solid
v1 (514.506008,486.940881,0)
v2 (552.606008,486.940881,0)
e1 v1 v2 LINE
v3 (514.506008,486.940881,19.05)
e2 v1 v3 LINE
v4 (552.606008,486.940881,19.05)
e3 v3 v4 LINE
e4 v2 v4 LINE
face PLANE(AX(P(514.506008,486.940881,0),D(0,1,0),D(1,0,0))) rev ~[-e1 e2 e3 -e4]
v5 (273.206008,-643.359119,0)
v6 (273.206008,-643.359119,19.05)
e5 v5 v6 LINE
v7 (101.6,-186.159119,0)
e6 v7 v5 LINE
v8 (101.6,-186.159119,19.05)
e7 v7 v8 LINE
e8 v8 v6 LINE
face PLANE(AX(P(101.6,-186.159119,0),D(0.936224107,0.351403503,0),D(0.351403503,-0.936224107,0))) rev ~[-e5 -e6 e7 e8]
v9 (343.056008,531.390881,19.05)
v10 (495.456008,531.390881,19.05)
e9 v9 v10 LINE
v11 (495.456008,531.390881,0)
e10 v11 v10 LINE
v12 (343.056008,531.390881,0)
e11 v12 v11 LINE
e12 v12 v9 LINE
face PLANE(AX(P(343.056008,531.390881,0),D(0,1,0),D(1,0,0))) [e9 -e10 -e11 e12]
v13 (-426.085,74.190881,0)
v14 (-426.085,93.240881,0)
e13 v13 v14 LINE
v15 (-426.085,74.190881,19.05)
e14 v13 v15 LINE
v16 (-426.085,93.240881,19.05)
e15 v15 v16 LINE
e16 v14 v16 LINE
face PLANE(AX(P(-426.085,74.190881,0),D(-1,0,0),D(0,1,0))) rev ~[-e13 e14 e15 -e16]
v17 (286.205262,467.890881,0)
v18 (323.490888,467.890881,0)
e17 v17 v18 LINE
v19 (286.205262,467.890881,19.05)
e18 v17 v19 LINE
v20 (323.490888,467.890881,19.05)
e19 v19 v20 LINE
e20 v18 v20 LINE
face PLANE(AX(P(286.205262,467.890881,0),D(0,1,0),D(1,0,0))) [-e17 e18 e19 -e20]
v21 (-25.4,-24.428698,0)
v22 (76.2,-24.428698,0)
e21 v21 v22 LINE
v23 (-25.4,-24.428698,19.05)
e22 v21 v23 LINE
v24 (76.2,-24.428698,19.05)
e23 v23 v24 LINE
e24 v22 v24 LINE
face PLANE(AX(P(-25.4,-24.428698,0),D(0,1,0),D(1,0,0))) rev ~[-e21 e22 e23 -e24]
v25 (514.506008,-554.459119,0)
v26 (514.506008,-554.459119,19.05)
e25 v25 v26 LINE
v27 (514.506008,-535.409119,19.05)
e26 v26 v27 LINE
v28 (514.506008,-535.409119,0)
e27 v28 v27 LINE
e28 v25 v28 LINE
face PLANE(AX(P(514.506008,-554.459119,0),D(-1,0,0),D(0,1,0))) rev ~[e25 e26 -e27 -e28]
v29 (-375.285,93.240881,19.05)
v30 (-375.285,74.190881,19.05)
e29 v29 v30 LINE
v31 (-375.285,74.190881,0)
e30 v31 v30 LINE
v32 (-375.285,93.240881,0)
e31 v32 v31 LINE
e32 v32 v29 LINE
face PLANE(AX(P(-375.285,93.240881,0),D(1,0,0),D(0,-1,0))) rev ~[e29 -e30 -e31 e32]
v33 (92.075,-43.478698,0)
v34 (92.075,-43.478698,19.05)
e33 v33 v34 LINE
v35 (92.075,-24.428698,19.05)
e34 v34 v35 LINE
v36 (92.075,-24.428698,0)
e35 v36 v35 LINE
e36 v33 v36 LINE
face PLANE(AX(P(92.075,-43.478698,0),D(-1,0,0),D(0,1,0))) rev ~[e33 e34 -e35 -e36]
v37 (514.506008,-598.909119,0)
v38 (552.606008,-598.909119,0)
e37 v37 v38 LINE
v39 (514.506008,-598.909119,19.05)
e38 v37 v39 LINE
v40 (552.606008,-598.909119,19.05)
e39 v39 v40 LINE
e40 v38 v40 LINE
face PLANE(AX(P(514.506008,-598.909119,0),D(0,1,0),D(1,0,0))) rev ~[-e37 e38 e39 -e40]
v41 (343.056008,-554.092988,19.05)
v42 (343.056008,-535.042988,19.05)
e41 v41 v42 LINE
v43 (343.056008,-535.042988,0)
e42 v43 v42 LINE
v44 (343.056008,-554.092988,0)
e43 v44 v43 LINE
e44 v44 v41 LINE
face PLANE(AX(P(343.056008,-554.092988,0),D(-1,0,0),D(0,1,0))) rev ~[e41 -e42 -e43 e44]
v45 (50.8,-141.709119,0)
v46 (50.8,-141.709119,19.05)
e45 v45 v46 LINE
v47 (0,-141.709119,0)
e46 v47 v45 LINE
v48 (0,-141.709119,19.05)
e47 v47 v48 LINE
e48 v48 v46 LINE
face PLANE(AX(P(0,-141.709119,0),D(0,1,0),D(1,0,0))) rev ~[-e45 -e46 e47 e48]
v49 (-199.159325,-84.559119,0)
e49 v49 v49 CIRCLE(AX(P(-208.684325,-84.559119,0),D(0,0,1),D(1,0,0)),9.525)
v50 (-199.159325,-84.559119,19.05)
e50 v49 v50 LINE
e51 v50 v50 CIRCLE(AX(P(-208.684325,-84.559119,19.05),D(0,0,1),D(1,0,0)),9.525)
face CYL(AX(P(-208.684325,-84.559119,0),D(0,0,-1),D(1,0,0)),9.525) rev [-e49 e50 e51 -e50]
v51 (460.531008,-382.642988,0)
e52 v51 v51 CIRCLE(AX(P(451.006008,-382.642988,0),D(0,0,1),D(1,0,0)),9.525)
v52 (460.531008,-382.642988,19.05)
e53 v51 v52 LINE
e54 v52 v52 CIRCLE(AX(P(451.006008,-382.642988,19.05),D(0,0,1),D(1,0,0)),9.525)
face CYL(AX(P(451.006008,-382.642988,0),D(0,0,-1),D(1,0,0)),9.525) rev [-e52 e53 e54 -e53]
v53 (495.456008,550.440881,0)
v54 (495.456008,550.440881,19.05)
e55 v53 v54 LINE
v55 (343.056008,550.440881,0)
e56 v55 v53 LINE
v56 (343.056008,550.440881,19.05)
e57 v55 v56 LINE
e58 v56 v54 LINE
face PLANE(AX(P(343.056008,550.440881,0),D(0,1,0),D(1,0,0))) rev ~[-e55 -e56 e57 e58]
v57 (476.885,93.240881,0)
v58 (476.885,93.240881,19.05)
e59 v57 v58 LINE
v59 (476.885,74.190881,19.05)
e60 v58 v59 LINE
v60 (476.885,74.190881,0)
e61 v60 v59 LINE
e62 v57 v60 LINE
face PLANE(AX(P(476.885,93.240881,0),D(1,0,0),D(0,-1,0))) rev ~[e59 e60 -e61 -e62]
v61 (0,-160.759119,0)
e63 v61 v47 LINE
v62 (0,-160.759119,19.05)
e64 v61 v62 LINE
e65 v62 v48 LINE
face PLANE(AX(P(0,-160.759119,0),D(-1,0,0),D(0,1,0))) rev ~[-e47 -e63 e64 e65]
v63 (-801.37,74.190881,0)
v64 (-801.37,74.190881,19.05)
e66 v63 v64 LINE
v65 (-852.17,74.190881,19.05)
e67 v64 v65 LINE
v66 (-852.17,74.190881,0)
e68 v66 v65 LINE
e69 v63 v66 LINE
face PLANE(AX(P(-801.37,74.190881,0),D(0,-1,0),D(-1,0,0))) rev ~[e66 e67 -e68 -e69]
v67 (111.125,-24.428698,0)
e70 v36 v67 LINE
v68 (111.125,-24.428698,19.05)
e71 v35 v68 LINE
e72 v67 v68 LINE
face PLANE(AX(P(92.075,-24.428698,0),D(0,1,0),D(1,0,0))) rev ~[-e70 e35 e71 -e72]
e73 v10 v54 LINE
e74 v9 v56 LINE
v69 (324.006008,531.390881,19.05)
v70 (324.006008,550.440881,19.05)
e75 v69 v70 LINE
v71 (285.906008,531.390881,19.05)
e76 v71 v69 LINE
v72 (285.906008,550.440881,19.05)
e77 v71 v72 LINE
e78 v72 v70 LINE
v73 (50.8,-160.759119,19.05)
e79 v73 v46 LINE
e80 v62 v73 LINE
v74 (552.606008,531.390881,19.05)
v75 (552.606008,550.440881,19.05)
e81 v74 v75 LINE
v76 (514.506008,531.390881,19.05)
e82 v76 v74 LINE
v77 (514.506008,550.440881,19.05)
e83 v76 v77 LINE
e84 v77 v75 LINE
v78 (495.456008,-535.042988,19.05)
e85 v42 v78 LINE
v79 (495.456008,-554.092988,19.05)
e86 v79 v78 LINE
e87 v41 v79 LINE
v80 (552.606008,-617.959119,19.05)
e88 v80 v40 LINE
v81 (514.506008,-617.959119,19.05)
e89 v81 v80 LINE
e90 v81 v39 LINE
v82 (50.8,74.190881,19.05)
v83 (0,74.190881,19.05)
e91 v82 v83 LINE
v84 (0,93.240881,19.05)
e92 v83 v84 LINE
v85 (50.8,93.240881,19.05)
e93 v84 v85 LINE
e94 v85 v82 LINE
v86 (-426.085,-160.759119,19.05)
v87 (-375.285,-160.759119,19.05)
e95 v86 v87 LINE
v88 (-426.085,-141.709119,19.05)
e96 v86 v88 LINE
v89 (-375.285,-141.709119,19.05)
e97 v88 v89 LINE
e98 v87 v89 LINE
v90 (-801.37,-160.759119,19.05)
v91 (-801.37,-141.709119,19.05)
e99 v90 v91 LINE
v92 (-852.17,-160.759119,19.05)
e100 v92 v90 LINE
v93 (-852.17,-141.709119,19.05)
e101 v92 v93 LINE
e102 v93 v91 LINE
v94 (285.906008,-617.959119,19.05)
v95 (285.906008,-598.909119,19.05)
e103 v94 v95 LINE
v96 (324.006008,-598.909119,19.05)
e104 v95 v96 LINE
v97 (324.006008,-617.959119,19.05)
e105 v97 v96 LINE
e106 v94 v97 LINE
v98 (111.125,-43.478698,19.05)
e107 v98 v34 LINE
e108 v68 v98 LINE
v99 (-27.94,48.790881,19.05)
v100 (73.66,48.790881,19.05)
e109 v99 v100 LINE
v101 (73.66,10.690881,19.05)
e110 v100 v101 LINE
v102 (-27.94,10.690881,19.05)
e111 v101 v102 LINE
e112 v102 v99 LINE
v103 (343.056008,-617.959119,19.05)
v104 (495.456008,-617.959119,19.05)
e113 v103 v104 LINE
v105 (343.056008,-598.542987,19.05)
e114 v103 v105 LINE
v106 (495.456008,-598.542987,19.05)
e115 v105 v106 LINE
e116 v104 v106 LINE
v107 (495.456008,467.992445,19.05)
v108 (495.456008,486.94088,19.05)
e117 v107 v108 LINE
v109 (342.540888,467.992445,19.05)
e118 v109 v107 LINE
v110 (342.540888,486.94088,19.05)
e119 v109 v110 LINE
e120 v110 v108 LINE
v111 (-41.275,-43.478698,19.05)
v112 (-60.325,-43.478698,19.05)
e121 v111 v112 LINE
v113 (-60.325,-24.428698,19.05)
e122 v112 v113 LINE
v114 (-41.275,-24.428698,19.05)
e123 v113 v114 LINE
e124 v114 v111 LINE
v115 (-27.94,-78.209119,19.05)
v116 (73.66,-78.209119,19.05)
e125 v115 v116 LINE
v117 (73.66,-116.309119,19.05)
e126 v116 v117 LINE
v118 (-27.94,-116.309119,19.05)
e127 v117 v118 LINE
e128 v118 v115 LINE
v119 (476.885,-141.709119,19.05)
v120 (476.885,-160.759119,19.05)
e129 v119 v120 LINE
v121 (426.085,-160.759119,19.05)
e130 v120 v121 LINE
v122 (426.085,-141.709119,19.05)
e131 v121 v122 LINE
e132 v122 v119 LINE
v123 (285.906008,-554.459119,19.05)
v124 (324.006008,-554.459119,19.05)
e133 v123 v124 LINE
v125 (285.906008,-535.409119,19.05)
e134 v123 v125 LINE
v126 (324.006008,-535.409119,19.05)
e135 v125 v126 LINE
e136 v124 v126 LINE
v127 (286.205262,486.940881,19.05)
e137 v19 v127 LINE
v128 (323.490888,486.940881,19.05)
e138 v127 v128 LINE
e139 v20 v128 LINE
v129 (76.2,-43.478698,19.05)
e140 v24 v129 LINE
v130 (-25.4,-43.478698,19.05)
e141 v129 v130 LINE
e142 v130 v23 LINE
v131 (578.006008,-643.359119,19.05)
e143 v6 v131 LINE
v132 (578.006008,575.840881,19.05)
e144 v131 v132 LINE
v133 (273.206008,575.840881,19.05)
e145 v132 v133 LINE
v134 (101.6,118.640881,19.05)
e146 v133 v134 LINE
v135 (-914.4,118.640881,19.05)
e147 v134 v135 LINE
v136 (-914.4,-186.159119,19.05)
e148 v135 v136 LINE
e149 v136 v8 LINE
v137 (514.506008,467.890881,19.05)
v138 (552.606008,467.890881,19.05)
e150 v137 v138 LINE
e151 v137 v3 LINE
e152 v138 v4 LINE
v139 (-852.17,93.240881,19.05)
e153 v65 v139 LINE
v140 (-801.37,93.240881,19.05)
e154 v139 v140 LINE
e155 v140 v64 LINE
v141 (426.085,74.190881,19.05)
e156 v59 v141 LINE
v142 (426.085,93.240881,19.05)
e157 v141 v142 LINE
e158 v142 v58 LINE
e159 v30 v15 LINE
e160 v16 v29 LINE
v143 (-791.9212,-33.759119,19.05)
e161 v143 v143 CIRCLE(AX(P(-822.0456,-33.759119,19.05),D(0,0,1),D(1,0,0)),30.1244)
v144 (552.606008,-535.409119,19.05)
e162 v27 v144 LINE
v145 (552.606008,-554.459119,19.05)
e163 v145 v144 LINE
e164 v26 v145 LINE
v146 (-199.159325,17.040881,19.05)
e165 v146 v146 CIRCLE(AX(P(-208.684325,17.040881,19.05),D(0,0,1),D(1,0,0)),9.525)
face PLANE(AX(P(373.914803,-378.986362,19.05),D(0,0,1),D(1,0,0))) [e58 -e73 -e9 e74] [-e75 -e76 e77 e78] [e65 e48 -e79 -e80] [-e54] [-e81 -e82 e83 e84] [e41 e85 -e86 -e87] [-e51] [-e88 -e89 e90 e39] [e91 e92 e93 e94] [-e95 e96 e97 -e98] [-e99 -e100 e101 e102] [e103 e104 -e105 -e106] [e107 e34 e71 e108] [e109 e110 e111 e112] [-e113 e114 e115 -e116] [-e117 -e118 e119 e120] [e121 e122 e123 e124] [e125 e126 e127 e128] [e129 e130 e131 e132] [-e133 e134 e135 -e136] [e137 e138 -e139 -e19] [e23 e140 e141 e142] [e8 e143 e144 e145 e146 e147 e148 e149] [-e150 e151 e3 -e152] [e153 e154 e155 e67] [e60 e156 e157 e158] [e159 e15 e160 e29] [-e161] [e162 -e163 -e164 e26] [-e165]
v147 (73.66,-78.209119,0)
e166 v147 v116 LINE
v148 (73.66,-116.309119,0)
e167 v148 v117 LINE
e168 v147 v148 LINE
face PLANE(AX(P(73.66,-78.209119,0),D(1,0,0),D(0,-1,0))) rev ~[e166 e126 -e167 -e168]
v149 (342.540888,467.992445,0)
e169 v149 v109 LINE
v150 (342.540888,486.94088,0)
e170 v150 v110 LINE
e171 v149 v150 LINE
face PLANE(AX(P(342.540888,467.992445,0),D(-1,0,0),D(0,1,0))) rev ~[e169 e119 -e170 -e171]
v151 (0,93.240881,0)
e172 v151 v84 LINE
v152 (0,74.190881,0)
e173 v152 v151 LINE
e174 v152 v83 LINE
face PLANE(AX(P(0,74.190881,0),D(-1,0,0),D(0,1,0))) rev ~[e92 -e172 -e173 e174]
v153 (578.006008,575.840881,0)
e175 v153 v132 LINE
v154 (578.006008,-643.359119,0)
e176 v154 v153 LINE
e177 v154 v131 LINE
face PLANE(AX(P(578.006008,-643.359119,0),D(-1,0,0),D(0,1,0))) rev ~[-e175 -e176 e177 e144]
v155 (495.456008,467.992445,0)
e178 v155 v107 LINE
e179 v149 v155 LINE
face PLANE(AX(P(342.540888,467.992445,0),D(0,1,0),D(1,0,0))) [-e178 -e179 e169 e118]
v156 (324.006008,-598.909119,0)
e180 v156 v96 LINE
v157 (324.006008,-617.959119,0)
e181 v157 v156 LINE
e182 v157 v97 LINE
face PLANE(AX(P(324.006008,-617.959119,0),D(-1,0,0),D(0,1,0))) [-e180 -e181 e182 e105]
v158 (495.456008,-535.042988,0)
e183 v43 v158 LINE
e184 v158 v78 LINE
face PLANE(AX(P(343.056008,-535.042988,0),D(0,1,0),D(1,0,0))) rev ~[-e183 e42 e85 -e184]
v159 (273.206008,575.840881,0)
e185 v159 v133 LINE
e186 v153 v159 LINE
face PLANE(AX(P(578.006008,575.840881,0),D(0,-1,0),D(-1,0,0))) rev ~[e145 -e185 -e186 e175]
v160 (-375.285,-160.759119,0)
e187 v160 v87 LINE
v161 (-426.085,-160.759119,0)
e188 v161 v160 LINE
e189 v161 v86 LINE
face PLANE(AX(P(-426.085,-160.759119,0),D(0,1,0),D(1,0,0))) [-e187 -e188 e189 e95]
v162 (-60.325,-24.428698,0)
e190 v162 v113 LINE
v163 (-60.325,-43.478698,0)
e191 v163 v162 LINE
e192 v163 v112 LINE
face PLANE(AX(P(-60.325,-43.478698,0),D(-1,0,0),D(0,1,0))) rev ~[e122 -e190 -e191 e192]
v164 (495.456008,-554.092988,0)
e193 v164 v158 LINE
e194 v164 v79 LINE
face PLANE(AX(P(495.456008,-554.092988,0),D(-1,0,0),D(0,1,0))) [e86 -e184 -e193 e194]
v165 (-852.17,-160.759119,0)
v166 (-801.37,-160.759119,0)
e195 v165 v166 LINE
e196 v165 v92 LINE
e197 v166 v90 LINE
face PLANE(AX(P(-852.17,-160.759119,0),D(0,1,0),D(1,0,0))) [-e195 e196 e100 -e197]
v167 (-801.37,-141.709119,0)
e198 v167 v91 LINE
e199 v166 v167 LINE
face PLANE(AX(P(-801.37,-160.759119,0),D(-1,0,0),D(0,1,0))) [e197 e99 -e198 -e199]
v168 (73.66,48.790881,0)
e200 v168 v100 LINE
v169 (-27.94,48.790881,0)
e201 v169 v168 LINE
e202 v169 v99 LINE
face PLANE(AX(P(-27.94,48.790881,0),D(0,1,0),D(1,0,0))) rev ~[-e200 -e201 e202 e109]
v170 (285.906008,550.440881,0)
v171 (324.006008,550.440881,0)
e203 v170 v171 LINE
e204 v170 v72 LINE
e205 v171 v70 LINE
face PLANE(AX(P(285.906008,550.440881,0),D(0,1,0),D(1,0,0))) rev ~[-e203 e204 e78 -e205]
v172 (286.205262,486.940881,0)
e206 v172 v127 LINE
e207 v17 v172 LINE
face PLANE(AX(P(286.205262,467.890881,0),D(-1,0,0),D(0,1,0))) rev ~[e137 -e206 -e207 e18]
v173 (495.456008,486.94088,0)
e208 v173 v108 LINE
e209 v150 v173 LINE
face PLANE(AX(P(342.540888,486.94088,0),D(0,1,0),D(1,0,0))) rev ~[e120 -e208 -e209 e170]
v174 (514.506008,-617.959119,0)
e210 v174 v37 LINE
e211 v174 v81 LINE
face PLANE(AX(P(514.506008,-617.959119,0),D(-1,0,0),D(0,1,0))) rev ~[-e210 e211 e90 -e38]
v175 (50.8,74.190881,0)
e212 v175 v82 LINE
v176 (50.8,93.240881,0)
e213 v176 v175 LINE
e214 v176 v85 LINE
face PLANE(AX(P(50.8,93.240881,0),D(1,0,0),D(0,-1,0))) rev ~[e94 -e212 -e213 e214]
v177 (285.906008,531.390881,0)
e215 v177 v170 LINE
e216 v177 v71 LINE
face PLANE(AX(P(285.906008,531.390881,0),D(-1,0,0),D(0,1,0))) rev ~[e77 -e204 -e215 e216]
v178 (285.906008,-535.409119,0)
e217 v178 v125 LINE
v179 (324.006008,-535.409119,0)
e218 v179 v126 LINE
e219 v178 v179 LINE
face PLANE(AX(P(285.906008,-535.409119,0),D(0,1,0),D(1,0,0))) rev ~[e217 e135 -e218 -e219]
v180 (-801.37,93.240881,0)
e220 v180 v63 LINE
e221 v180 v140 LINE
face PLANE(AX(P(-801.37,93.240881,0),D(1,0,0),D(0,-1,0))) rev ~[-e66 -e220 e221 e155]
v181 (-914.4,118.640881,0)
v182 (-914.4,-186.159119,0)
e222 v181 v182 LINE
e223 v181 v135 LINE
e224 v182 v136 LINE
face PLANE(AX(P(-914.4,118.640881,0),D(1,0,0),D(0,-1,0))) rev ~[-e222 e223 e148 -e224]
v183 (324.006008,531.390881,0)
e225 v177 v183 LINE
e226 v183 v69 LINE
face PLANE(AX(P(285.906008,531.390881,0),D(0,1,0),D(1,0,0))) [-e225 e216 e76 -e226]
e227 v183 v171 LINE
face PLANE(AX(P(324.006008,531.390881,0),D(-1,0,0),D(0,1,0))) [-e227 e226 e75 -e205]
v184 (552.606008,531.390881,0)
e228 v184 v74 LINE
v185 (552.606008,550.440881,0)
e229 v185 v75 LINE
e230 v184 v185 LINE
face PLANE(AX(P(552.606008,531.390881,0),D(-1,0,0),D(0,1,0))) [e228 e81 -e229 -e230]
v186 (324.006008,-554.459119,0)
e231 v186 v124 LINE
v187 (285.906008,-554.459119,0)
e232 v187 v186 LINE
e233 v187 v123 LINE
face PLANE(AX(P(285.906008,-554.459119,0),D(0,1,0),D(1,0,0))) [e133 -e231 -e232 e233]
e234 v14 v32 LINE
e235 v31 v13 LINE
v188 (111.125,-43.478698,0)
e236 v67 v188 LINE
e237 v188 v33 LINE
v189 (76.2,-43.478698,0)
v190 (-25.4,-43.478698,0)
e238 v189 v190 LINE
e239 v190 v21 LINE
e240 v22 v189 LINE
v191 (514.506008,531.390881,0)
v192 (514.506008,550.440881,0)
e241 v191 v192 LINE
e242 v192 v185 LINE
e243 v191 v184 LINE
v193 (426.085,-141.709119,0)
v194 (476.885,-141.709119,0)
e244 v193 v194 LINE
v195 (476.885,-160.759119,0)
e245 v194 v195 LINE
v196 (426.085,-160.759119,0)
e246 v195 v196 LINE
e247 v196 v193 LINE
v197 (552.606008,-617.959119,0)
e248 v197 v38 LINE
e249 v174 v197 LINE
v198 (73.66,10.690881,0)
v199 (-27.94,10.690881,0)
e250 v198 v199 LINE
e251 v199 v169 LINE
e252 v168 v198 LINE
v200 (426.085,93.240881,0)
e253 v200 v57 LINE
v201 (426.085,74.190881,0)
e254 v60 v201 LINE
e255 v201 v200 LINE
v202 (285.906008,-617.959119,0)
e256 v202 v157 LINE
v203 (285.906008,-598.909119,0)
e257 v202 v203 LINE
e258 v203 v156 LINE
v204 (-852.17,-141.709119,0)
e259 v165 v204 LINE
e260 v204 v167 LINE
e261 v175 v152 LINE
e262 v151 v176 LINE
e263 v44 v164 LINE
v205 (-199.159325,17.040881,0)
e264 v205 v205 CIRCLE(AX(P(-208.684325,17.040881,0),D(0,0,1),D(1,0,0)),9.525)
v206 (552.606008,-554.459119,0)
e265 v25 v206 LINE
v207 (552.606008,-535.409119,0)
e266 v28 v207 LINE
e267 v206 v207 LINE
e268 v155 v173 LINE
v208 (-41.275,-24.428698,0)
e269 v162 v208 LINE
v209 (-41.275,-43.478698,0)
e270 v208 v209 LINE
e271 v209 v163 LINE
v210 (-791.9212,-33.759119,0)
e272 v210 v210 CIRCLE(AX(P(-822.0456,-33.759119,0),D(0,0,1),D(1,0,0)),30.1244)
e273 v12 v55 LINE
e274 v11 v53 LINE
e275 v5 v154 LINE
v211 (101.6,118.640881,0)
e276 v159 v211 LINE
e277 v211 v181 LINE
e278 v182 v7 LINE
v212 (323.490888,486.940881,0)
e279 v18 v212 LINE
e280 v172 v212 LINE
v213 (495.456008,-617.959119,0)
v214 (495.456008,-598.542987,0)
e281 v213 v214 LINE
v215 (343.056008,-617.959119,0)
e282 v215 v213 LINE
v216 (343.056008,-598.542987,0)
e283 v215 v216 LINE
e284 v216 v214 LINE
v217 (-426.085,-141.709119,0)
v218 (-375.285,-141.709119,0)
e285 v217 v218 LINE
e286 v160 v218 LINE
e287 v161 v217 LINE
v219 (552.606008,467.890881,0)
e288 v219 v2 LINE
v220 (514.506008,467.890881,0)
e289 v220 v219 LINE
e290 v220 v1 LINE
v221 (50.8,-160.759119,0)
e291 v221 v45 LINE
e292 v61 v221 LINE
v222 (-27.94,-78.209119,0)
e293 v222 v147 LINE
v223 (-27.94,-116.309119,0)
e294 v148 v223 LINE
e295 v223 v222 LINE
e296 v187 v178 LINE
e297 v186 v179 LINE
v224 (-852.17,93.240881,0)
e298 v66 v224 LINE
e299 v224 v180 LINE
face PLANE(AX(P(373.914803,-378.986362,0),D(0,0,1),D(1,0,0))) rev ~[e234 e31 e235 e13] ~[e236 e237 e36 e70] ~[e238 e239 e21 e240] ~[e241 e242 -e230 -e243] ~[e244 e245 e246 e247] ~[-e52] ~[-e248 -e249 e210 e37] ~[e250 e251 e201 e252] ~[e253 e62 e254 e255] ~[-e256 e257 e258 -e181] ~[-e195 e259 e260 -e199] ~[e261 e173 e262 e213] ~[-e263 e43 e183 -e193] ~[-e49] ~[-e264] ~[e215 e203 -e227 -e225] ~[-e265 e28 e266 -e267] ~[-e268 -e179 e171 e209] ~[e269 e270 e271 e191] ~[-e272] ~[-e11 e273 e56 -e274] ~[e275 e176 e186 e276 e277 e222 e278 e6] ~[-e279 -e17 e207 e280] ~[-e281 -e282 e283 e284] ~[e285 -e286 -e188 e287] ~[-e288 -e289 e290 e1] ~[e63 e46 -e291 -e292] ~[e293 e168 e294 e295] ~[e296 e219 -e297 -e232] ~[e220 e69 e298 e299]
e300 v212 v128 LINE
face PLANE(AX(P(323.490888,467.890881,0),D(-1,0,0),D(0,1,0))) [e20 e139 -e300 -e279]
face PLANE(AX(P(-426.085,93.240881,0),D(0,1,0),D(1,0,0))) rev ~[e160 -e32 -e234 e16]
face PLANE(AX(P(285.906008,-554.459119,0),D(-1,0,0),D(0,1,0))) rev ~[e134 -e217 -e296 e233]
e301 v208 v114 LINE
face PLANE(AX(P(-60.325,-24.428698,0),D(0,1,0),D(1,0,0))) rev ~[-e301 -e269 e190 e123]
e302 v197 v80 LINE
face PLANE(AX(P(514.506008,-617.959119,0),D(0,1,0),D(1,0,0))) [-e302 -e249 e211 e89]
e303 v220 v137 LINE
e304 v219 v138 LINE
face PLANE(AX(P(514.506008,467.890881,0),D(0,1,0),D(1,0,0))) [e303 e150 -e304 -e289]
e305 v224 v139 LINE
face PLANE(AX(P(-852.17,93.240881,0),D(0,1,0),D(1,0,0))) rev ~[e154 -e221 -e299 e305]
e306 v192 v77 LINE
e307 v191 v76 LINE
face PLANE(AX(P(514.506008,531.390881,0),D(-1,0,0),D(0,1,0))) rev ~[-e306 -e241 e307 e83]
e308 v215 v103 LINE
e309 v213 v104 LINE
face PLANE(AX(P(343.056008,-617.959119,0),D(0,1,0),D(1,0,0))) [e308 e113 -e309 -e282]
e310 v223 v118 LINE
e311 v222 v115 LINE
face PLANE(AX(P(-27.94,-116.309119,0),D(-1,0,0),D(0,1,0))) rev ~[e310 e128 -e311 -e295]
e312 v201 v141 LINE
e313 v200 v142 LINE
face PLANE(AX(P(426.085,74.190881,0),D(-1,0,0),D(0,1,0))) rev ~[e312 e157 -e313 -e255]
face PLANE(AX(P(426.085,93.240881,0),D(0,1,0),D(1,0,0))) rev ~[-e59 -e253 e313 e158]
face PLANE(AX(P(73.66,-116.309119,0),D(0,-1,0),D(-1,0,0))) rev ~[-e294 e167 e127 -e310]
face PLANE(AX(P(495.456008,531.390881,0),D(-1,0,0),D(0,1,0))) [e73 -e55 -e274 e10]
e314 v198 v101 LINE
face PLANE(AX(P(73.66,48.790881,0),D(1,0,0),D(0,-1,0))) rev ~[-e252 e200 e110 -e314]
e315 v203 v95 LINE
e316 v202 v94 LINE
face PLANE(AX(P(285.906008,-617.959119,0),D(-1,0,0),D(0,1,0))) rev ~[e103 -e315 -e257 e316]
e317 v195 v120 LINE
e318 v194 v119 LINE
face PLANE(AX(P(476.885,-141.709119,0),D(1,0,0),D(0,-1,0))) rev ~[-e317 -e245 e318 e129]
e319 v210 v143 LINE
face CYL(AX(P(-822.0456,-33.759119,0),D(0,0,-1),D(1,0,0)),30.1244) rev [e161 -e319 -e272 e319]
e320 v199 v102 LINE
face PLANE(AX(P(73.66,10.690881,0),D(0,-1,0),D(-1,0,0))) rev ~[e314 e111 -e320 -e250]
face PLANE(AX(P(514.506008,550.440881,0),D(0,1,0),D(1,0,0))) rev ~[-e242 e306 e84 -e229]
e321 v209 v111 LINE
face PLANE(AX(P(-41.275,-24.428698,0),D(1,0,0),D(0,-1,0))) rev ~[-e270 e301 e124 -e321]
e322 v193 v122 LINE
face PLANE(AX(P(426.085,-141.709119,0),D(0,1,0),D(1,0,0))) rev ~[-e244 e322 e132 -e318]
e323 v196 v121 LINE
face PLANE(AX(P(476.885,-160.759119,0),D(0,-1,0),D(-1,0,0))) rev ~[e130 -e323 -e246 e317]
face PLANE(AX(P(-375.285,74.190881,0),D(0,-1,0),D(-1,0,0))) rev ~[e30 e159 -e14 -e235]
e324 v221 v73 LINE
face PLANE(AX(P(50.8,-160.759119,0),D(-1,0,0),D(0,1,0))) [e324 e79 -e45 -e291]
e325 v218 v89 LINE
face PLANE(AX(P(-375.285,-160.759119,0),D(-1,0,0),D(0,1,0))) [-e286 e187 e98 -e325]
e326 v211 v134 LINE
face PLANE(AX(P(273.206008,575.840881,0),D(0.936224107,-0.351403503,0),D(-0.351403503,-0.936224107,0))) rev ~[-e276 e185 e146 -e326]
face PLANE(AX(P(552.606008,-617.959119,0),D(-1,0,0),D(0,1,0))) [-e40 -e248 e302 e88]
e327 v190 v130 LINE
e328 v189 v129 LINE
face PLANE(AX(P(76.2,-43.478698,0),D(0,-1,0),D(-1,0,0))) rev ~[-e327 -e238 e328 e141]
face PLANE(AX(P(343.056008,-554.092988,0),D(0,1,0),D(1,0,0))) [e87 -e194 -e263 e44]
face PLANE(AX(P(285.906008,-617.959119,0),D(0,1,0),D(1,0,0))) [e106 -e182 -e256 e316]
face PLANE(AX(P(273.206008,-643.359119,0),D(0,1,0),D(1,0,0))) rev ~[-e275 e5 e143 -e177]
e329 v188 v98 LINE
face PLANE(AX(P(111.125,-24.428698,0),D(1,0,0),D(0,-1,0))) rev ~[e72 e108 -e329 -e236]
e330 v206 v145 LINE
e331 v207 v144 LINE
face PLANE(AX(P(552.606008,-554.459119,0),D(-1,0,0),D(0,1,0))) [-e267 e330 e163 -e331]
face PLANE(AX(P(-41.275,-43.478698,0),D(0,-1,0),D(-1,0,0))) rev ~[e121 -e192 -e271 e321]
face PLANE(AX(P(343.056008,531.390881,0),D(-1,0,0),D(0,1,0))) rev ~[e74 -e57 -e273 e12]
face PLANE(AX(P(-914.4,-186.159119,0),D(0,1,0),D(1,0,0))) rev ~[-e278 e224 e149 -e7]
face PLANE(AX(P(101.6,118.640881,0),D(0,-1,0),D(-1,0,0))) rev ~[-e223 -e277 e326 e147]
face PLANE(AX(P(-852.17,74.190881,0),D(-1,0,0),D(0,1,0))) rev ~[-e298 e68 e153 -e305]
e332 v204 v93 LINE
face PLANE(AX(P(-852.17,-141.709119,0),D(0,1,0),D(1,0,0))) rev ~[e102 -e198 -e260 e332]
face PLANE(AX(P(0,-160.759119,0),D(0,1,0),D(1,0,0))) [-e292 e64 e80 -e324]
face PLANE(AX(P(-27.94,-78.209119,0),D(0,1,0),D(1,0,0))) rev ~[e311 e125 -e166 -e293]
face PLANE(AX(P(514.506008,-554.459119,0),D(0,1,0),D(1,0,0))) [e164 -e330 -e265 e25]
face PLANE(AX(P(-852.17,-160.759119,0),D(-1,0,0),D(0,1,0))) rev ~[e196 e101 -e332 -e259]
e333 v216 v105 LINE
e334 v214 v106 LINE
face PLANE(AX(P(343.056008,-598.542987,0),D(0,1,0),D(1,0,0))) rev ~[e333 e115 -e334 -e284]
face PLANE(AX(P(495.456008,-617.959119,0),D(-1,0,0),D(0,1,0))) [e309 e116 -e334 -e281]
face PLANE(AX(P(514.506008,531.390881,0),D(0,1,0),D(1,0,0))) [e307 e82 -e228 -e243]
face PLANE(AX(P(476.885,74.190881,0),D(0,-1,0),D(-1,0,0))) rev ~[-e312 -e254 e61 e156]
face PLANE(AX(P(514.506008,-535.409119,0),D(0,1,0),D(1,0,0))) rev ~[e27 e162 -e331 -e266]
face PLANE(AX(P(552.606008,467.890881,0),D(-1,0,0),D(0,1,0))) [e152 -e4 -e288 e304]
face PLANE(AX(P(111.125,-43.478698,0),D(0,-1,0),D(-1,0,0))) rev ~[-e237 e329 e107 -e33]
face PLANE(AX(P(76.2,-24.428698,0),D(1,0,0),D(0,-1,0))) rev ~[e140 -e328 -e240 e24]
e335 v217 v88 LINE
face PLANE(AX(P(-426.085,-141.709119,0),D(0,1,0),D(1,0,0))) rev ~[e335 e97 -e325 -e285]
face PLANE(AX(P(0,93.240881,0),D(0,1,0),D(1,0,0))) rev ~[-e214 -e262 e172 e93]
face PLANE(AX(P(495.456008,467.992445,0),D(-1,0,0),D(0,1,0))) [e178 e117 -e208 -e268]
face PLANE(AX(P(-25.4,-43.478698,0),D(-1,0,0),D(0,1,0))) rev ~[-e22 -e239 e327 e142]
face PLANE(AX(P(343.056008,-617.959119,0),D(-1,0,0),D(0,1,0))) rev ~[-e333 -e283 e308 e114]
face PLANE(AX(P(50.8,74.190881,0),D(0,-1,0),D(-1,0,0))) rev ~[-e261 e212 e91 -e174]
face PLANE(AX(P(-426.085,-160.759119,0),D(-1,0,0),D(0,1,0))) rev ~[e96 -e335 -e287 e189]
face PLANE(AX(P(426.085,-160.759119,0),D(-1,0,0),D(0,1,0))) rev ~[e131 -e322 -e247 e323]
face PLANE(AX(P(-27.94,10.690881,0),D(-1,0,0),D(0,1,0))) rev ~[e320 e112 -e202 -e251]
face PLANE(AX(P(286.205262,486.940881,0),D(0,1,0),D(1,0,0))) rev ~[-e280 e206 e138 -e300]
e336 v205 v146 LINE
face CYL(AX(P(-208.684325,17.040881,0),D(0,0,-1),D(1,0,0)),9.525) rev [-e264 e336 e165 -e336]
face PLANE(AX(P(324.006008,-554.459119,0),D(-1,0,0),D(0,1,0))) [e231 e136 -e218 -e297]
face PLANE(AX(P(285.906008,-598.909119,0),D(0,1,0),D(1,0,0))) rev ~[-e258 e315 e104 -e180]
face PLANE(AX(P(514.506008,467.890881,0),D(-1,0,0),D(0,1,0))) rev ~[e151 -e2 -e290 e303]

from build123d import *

# Parameters (mm, degrees)
F0_W     = 38.1
F0_H     = 19.05
F0_W_2   = 152.4
F0_H_2   = 19.416131
F0_R     = 9.525
F0_W_3   = 50.8
F0_R_2   = 30.1244
F0_W_4   = 37.285626
F0_W_5   = 152.91512
F0_H_3   = 18.948435
F1_DEPTH = 19.05


with BuildPart() as f1:
    # F0 (on Top) → F1 (new body)
    with BuildSketch(Plane.XY):
        Polygon((273.206008, -643.359119), (578.006008, -643.359119), (578.006008, -186.159119), (578.006008, -167.109119), (578.006008, -160.759119), (476.885, -160.759119), (426.085, -160.759119), (101.6, -160.759119), (101.6, -186.159119), align=None)
        with Locations((304.956008, -608.434119)):
            Rectangle(F0_W, F0_H, mode=Mode.SUBTRACT)
        with Locations((304.956008, -544.934119)):
            Rectangle(F0_W, F0_H, mode=Mode.SUBTRACT)
        with Locations((419.256008, -608.251053)):
            Rectangle(F0_W_2, F0_H_2, mode=Mode.SUBTRACT)
        with Locations((533.556008, -608.434119)):
            Rectangle(F0_W, F0_H, mode=Mode.SUBTRACT)
        with Locations((419.256008, -544.567988)):
            Rectangle(F0_W_2, F0_H, mode=Mode.SUBTRACT)
        with Locations((533.556008, -544.934119)):
            Rectangle(F0_W, F0_H, mode=Mode.SUBTRACT)
        with Locations((451.006008, -382.642988)):
            Circle(F0_R, mode=Mode.SUBTRACT)
        Polygon((-914.4, -186.159119), (101.6, -186.159119), (101.6, -160.759119), (101.6, -43.478698), (92.075, -43.478698), (92.075, -24.428698), (101.6, -24.428698), (101.6, 93.240881), (50.8, 93.240881), (50.8, 74.190881), (0, 74.190881), (0, 93.240881), (-375.285, 93.240881), (-375.285, 74.190881), (-426.085, 74.190881), (-426.085, 93.240881), (-801.37, 93.240881), (-801.37, 74.190881), (-852.17, 74.190881), (-852.17, 93.240881), (-914.4, 93.240881), (-914.4, 74.190881), (-914.4, -167.109119), align=None)
        with Locations((-826.77, -151.234119)):
            Rectangle(F0_W_3, F0_H, mode=Mode.SUBTRACT)
        with Locations((-822.0456, -33.759119)):
            Circle(F0_R_2, mode=Mode.SUBTRACT)
        with Locations((-400.685, -151.234119)):
            Rectangle(F0_W_3, F0_H, mode=Mode.SUBTRACT)
        with Locations((-208.684325, -84.559119)):
            Circle(F0_R, mode=Mode.SUBTRACT)
        Polygon((-41.275, -24.428698), (-41.275, -33.953698), (-41.275, -43.478698), (-60.325, -43.478698), (-60.325, -33.953698), (-60.325, -24.428698), align=None, mode=Mode.SUBTRACT)
        with Locations((25.4, -151.234119)):
            Rectangle(F0_W_3, F0_H, mode=Mode.SUBTRACT)
        Polygon((-27.94, -78.209119), (24.7487, -78.209119), (73.66, -78.209119), (73.66, -116.309119), (-27.94, -116.309119), align=None, mode=Mode.SUBTRACT)
        Polygon((-25.4, -24.428698), (24.7487, -24.428698), (76.2, -24.428698), (76.2, -43.478698), (24.7487, -43.478698), (-25.4, -43.478698), (-25.4, -33.953698), align=None, mode=Mode.SUBTRACT)
        with Locations((-208.684325, 17.040881)):
            Circle(F0_R, mode=Mode.SUBTRACT)
        Polygon((-27.94, 10.690881), (-27.94, 48.790881), (73.66, 48.790881), (73.66, 10.690881), (24.7487, 10.690881), align=None, mode=Mode.SUBTRACT)
        Polygon((476.885, -160.759119), (578.006008, -160.759119), (578.006008, 74.190881), (578.006008, 93.240881), (476.885, 93.240881), (476.885, 74.190881), (426.085, 74.190881), (426.085, 93.240881), (101.6, 93.240881), (101.6, -24.428698), (111.125, -24.428698), (111.125, -43.478698), (101.6, -43.478698), (101.6, -160.759119), (426.085, -160.759119), (426.085, -141.709119), (476.885, -141.709119), align=None)
        Polygon((476.885, 93.240881), (578.006008, 93.240881), (578.006008, 575.840881), (273.206008, 575.840881), (101.6, 118.640881), (101.6, 93.240881), (426.085, 93.240881), align=None)
        with Locations((304.848075, 477.415881)):
            Rectangle(F0_W_4, F0_H, mode=Mode.SUBTRACT)
        with Locations((304.956008, 540.915881)):
            Rectangle(F0_W, F0_H, mode=Mode.SUBTRACT)
        with Locations((418.998448, 477.466663)):
            Rectangle(F0_W_5, F0_H_3, mode=Mode.SUBTRACT)
        with Locations((533.556008, 477.415881)):
            Rectangle(F0_W, F0_H, mode=Mode.SUBTRACT)
        with Locations((419.256008, 540.915881)):
            Rectangle(F0_W_2, F0_H, mode=Mode.SUBTRACT)
        with Locations((533.556008, 540.915881)):
            Rectangle(F0_W, F0_H, mode=Mode.SUBTRACT)
        Polygon((-914.4, 118.640881), (-914.4, 93.240881), (-852.17, 93.240881), (-801.37, 93.240881), (-426.085, 93.240881), (-375.285, 93.240881), (0, 93.240881), (50.8, 93.240881), (101.6, 93.240881), (101.6, 118.640881), align=None)
    extrude(amount=F1_DEPTH)


solid = f1.part
